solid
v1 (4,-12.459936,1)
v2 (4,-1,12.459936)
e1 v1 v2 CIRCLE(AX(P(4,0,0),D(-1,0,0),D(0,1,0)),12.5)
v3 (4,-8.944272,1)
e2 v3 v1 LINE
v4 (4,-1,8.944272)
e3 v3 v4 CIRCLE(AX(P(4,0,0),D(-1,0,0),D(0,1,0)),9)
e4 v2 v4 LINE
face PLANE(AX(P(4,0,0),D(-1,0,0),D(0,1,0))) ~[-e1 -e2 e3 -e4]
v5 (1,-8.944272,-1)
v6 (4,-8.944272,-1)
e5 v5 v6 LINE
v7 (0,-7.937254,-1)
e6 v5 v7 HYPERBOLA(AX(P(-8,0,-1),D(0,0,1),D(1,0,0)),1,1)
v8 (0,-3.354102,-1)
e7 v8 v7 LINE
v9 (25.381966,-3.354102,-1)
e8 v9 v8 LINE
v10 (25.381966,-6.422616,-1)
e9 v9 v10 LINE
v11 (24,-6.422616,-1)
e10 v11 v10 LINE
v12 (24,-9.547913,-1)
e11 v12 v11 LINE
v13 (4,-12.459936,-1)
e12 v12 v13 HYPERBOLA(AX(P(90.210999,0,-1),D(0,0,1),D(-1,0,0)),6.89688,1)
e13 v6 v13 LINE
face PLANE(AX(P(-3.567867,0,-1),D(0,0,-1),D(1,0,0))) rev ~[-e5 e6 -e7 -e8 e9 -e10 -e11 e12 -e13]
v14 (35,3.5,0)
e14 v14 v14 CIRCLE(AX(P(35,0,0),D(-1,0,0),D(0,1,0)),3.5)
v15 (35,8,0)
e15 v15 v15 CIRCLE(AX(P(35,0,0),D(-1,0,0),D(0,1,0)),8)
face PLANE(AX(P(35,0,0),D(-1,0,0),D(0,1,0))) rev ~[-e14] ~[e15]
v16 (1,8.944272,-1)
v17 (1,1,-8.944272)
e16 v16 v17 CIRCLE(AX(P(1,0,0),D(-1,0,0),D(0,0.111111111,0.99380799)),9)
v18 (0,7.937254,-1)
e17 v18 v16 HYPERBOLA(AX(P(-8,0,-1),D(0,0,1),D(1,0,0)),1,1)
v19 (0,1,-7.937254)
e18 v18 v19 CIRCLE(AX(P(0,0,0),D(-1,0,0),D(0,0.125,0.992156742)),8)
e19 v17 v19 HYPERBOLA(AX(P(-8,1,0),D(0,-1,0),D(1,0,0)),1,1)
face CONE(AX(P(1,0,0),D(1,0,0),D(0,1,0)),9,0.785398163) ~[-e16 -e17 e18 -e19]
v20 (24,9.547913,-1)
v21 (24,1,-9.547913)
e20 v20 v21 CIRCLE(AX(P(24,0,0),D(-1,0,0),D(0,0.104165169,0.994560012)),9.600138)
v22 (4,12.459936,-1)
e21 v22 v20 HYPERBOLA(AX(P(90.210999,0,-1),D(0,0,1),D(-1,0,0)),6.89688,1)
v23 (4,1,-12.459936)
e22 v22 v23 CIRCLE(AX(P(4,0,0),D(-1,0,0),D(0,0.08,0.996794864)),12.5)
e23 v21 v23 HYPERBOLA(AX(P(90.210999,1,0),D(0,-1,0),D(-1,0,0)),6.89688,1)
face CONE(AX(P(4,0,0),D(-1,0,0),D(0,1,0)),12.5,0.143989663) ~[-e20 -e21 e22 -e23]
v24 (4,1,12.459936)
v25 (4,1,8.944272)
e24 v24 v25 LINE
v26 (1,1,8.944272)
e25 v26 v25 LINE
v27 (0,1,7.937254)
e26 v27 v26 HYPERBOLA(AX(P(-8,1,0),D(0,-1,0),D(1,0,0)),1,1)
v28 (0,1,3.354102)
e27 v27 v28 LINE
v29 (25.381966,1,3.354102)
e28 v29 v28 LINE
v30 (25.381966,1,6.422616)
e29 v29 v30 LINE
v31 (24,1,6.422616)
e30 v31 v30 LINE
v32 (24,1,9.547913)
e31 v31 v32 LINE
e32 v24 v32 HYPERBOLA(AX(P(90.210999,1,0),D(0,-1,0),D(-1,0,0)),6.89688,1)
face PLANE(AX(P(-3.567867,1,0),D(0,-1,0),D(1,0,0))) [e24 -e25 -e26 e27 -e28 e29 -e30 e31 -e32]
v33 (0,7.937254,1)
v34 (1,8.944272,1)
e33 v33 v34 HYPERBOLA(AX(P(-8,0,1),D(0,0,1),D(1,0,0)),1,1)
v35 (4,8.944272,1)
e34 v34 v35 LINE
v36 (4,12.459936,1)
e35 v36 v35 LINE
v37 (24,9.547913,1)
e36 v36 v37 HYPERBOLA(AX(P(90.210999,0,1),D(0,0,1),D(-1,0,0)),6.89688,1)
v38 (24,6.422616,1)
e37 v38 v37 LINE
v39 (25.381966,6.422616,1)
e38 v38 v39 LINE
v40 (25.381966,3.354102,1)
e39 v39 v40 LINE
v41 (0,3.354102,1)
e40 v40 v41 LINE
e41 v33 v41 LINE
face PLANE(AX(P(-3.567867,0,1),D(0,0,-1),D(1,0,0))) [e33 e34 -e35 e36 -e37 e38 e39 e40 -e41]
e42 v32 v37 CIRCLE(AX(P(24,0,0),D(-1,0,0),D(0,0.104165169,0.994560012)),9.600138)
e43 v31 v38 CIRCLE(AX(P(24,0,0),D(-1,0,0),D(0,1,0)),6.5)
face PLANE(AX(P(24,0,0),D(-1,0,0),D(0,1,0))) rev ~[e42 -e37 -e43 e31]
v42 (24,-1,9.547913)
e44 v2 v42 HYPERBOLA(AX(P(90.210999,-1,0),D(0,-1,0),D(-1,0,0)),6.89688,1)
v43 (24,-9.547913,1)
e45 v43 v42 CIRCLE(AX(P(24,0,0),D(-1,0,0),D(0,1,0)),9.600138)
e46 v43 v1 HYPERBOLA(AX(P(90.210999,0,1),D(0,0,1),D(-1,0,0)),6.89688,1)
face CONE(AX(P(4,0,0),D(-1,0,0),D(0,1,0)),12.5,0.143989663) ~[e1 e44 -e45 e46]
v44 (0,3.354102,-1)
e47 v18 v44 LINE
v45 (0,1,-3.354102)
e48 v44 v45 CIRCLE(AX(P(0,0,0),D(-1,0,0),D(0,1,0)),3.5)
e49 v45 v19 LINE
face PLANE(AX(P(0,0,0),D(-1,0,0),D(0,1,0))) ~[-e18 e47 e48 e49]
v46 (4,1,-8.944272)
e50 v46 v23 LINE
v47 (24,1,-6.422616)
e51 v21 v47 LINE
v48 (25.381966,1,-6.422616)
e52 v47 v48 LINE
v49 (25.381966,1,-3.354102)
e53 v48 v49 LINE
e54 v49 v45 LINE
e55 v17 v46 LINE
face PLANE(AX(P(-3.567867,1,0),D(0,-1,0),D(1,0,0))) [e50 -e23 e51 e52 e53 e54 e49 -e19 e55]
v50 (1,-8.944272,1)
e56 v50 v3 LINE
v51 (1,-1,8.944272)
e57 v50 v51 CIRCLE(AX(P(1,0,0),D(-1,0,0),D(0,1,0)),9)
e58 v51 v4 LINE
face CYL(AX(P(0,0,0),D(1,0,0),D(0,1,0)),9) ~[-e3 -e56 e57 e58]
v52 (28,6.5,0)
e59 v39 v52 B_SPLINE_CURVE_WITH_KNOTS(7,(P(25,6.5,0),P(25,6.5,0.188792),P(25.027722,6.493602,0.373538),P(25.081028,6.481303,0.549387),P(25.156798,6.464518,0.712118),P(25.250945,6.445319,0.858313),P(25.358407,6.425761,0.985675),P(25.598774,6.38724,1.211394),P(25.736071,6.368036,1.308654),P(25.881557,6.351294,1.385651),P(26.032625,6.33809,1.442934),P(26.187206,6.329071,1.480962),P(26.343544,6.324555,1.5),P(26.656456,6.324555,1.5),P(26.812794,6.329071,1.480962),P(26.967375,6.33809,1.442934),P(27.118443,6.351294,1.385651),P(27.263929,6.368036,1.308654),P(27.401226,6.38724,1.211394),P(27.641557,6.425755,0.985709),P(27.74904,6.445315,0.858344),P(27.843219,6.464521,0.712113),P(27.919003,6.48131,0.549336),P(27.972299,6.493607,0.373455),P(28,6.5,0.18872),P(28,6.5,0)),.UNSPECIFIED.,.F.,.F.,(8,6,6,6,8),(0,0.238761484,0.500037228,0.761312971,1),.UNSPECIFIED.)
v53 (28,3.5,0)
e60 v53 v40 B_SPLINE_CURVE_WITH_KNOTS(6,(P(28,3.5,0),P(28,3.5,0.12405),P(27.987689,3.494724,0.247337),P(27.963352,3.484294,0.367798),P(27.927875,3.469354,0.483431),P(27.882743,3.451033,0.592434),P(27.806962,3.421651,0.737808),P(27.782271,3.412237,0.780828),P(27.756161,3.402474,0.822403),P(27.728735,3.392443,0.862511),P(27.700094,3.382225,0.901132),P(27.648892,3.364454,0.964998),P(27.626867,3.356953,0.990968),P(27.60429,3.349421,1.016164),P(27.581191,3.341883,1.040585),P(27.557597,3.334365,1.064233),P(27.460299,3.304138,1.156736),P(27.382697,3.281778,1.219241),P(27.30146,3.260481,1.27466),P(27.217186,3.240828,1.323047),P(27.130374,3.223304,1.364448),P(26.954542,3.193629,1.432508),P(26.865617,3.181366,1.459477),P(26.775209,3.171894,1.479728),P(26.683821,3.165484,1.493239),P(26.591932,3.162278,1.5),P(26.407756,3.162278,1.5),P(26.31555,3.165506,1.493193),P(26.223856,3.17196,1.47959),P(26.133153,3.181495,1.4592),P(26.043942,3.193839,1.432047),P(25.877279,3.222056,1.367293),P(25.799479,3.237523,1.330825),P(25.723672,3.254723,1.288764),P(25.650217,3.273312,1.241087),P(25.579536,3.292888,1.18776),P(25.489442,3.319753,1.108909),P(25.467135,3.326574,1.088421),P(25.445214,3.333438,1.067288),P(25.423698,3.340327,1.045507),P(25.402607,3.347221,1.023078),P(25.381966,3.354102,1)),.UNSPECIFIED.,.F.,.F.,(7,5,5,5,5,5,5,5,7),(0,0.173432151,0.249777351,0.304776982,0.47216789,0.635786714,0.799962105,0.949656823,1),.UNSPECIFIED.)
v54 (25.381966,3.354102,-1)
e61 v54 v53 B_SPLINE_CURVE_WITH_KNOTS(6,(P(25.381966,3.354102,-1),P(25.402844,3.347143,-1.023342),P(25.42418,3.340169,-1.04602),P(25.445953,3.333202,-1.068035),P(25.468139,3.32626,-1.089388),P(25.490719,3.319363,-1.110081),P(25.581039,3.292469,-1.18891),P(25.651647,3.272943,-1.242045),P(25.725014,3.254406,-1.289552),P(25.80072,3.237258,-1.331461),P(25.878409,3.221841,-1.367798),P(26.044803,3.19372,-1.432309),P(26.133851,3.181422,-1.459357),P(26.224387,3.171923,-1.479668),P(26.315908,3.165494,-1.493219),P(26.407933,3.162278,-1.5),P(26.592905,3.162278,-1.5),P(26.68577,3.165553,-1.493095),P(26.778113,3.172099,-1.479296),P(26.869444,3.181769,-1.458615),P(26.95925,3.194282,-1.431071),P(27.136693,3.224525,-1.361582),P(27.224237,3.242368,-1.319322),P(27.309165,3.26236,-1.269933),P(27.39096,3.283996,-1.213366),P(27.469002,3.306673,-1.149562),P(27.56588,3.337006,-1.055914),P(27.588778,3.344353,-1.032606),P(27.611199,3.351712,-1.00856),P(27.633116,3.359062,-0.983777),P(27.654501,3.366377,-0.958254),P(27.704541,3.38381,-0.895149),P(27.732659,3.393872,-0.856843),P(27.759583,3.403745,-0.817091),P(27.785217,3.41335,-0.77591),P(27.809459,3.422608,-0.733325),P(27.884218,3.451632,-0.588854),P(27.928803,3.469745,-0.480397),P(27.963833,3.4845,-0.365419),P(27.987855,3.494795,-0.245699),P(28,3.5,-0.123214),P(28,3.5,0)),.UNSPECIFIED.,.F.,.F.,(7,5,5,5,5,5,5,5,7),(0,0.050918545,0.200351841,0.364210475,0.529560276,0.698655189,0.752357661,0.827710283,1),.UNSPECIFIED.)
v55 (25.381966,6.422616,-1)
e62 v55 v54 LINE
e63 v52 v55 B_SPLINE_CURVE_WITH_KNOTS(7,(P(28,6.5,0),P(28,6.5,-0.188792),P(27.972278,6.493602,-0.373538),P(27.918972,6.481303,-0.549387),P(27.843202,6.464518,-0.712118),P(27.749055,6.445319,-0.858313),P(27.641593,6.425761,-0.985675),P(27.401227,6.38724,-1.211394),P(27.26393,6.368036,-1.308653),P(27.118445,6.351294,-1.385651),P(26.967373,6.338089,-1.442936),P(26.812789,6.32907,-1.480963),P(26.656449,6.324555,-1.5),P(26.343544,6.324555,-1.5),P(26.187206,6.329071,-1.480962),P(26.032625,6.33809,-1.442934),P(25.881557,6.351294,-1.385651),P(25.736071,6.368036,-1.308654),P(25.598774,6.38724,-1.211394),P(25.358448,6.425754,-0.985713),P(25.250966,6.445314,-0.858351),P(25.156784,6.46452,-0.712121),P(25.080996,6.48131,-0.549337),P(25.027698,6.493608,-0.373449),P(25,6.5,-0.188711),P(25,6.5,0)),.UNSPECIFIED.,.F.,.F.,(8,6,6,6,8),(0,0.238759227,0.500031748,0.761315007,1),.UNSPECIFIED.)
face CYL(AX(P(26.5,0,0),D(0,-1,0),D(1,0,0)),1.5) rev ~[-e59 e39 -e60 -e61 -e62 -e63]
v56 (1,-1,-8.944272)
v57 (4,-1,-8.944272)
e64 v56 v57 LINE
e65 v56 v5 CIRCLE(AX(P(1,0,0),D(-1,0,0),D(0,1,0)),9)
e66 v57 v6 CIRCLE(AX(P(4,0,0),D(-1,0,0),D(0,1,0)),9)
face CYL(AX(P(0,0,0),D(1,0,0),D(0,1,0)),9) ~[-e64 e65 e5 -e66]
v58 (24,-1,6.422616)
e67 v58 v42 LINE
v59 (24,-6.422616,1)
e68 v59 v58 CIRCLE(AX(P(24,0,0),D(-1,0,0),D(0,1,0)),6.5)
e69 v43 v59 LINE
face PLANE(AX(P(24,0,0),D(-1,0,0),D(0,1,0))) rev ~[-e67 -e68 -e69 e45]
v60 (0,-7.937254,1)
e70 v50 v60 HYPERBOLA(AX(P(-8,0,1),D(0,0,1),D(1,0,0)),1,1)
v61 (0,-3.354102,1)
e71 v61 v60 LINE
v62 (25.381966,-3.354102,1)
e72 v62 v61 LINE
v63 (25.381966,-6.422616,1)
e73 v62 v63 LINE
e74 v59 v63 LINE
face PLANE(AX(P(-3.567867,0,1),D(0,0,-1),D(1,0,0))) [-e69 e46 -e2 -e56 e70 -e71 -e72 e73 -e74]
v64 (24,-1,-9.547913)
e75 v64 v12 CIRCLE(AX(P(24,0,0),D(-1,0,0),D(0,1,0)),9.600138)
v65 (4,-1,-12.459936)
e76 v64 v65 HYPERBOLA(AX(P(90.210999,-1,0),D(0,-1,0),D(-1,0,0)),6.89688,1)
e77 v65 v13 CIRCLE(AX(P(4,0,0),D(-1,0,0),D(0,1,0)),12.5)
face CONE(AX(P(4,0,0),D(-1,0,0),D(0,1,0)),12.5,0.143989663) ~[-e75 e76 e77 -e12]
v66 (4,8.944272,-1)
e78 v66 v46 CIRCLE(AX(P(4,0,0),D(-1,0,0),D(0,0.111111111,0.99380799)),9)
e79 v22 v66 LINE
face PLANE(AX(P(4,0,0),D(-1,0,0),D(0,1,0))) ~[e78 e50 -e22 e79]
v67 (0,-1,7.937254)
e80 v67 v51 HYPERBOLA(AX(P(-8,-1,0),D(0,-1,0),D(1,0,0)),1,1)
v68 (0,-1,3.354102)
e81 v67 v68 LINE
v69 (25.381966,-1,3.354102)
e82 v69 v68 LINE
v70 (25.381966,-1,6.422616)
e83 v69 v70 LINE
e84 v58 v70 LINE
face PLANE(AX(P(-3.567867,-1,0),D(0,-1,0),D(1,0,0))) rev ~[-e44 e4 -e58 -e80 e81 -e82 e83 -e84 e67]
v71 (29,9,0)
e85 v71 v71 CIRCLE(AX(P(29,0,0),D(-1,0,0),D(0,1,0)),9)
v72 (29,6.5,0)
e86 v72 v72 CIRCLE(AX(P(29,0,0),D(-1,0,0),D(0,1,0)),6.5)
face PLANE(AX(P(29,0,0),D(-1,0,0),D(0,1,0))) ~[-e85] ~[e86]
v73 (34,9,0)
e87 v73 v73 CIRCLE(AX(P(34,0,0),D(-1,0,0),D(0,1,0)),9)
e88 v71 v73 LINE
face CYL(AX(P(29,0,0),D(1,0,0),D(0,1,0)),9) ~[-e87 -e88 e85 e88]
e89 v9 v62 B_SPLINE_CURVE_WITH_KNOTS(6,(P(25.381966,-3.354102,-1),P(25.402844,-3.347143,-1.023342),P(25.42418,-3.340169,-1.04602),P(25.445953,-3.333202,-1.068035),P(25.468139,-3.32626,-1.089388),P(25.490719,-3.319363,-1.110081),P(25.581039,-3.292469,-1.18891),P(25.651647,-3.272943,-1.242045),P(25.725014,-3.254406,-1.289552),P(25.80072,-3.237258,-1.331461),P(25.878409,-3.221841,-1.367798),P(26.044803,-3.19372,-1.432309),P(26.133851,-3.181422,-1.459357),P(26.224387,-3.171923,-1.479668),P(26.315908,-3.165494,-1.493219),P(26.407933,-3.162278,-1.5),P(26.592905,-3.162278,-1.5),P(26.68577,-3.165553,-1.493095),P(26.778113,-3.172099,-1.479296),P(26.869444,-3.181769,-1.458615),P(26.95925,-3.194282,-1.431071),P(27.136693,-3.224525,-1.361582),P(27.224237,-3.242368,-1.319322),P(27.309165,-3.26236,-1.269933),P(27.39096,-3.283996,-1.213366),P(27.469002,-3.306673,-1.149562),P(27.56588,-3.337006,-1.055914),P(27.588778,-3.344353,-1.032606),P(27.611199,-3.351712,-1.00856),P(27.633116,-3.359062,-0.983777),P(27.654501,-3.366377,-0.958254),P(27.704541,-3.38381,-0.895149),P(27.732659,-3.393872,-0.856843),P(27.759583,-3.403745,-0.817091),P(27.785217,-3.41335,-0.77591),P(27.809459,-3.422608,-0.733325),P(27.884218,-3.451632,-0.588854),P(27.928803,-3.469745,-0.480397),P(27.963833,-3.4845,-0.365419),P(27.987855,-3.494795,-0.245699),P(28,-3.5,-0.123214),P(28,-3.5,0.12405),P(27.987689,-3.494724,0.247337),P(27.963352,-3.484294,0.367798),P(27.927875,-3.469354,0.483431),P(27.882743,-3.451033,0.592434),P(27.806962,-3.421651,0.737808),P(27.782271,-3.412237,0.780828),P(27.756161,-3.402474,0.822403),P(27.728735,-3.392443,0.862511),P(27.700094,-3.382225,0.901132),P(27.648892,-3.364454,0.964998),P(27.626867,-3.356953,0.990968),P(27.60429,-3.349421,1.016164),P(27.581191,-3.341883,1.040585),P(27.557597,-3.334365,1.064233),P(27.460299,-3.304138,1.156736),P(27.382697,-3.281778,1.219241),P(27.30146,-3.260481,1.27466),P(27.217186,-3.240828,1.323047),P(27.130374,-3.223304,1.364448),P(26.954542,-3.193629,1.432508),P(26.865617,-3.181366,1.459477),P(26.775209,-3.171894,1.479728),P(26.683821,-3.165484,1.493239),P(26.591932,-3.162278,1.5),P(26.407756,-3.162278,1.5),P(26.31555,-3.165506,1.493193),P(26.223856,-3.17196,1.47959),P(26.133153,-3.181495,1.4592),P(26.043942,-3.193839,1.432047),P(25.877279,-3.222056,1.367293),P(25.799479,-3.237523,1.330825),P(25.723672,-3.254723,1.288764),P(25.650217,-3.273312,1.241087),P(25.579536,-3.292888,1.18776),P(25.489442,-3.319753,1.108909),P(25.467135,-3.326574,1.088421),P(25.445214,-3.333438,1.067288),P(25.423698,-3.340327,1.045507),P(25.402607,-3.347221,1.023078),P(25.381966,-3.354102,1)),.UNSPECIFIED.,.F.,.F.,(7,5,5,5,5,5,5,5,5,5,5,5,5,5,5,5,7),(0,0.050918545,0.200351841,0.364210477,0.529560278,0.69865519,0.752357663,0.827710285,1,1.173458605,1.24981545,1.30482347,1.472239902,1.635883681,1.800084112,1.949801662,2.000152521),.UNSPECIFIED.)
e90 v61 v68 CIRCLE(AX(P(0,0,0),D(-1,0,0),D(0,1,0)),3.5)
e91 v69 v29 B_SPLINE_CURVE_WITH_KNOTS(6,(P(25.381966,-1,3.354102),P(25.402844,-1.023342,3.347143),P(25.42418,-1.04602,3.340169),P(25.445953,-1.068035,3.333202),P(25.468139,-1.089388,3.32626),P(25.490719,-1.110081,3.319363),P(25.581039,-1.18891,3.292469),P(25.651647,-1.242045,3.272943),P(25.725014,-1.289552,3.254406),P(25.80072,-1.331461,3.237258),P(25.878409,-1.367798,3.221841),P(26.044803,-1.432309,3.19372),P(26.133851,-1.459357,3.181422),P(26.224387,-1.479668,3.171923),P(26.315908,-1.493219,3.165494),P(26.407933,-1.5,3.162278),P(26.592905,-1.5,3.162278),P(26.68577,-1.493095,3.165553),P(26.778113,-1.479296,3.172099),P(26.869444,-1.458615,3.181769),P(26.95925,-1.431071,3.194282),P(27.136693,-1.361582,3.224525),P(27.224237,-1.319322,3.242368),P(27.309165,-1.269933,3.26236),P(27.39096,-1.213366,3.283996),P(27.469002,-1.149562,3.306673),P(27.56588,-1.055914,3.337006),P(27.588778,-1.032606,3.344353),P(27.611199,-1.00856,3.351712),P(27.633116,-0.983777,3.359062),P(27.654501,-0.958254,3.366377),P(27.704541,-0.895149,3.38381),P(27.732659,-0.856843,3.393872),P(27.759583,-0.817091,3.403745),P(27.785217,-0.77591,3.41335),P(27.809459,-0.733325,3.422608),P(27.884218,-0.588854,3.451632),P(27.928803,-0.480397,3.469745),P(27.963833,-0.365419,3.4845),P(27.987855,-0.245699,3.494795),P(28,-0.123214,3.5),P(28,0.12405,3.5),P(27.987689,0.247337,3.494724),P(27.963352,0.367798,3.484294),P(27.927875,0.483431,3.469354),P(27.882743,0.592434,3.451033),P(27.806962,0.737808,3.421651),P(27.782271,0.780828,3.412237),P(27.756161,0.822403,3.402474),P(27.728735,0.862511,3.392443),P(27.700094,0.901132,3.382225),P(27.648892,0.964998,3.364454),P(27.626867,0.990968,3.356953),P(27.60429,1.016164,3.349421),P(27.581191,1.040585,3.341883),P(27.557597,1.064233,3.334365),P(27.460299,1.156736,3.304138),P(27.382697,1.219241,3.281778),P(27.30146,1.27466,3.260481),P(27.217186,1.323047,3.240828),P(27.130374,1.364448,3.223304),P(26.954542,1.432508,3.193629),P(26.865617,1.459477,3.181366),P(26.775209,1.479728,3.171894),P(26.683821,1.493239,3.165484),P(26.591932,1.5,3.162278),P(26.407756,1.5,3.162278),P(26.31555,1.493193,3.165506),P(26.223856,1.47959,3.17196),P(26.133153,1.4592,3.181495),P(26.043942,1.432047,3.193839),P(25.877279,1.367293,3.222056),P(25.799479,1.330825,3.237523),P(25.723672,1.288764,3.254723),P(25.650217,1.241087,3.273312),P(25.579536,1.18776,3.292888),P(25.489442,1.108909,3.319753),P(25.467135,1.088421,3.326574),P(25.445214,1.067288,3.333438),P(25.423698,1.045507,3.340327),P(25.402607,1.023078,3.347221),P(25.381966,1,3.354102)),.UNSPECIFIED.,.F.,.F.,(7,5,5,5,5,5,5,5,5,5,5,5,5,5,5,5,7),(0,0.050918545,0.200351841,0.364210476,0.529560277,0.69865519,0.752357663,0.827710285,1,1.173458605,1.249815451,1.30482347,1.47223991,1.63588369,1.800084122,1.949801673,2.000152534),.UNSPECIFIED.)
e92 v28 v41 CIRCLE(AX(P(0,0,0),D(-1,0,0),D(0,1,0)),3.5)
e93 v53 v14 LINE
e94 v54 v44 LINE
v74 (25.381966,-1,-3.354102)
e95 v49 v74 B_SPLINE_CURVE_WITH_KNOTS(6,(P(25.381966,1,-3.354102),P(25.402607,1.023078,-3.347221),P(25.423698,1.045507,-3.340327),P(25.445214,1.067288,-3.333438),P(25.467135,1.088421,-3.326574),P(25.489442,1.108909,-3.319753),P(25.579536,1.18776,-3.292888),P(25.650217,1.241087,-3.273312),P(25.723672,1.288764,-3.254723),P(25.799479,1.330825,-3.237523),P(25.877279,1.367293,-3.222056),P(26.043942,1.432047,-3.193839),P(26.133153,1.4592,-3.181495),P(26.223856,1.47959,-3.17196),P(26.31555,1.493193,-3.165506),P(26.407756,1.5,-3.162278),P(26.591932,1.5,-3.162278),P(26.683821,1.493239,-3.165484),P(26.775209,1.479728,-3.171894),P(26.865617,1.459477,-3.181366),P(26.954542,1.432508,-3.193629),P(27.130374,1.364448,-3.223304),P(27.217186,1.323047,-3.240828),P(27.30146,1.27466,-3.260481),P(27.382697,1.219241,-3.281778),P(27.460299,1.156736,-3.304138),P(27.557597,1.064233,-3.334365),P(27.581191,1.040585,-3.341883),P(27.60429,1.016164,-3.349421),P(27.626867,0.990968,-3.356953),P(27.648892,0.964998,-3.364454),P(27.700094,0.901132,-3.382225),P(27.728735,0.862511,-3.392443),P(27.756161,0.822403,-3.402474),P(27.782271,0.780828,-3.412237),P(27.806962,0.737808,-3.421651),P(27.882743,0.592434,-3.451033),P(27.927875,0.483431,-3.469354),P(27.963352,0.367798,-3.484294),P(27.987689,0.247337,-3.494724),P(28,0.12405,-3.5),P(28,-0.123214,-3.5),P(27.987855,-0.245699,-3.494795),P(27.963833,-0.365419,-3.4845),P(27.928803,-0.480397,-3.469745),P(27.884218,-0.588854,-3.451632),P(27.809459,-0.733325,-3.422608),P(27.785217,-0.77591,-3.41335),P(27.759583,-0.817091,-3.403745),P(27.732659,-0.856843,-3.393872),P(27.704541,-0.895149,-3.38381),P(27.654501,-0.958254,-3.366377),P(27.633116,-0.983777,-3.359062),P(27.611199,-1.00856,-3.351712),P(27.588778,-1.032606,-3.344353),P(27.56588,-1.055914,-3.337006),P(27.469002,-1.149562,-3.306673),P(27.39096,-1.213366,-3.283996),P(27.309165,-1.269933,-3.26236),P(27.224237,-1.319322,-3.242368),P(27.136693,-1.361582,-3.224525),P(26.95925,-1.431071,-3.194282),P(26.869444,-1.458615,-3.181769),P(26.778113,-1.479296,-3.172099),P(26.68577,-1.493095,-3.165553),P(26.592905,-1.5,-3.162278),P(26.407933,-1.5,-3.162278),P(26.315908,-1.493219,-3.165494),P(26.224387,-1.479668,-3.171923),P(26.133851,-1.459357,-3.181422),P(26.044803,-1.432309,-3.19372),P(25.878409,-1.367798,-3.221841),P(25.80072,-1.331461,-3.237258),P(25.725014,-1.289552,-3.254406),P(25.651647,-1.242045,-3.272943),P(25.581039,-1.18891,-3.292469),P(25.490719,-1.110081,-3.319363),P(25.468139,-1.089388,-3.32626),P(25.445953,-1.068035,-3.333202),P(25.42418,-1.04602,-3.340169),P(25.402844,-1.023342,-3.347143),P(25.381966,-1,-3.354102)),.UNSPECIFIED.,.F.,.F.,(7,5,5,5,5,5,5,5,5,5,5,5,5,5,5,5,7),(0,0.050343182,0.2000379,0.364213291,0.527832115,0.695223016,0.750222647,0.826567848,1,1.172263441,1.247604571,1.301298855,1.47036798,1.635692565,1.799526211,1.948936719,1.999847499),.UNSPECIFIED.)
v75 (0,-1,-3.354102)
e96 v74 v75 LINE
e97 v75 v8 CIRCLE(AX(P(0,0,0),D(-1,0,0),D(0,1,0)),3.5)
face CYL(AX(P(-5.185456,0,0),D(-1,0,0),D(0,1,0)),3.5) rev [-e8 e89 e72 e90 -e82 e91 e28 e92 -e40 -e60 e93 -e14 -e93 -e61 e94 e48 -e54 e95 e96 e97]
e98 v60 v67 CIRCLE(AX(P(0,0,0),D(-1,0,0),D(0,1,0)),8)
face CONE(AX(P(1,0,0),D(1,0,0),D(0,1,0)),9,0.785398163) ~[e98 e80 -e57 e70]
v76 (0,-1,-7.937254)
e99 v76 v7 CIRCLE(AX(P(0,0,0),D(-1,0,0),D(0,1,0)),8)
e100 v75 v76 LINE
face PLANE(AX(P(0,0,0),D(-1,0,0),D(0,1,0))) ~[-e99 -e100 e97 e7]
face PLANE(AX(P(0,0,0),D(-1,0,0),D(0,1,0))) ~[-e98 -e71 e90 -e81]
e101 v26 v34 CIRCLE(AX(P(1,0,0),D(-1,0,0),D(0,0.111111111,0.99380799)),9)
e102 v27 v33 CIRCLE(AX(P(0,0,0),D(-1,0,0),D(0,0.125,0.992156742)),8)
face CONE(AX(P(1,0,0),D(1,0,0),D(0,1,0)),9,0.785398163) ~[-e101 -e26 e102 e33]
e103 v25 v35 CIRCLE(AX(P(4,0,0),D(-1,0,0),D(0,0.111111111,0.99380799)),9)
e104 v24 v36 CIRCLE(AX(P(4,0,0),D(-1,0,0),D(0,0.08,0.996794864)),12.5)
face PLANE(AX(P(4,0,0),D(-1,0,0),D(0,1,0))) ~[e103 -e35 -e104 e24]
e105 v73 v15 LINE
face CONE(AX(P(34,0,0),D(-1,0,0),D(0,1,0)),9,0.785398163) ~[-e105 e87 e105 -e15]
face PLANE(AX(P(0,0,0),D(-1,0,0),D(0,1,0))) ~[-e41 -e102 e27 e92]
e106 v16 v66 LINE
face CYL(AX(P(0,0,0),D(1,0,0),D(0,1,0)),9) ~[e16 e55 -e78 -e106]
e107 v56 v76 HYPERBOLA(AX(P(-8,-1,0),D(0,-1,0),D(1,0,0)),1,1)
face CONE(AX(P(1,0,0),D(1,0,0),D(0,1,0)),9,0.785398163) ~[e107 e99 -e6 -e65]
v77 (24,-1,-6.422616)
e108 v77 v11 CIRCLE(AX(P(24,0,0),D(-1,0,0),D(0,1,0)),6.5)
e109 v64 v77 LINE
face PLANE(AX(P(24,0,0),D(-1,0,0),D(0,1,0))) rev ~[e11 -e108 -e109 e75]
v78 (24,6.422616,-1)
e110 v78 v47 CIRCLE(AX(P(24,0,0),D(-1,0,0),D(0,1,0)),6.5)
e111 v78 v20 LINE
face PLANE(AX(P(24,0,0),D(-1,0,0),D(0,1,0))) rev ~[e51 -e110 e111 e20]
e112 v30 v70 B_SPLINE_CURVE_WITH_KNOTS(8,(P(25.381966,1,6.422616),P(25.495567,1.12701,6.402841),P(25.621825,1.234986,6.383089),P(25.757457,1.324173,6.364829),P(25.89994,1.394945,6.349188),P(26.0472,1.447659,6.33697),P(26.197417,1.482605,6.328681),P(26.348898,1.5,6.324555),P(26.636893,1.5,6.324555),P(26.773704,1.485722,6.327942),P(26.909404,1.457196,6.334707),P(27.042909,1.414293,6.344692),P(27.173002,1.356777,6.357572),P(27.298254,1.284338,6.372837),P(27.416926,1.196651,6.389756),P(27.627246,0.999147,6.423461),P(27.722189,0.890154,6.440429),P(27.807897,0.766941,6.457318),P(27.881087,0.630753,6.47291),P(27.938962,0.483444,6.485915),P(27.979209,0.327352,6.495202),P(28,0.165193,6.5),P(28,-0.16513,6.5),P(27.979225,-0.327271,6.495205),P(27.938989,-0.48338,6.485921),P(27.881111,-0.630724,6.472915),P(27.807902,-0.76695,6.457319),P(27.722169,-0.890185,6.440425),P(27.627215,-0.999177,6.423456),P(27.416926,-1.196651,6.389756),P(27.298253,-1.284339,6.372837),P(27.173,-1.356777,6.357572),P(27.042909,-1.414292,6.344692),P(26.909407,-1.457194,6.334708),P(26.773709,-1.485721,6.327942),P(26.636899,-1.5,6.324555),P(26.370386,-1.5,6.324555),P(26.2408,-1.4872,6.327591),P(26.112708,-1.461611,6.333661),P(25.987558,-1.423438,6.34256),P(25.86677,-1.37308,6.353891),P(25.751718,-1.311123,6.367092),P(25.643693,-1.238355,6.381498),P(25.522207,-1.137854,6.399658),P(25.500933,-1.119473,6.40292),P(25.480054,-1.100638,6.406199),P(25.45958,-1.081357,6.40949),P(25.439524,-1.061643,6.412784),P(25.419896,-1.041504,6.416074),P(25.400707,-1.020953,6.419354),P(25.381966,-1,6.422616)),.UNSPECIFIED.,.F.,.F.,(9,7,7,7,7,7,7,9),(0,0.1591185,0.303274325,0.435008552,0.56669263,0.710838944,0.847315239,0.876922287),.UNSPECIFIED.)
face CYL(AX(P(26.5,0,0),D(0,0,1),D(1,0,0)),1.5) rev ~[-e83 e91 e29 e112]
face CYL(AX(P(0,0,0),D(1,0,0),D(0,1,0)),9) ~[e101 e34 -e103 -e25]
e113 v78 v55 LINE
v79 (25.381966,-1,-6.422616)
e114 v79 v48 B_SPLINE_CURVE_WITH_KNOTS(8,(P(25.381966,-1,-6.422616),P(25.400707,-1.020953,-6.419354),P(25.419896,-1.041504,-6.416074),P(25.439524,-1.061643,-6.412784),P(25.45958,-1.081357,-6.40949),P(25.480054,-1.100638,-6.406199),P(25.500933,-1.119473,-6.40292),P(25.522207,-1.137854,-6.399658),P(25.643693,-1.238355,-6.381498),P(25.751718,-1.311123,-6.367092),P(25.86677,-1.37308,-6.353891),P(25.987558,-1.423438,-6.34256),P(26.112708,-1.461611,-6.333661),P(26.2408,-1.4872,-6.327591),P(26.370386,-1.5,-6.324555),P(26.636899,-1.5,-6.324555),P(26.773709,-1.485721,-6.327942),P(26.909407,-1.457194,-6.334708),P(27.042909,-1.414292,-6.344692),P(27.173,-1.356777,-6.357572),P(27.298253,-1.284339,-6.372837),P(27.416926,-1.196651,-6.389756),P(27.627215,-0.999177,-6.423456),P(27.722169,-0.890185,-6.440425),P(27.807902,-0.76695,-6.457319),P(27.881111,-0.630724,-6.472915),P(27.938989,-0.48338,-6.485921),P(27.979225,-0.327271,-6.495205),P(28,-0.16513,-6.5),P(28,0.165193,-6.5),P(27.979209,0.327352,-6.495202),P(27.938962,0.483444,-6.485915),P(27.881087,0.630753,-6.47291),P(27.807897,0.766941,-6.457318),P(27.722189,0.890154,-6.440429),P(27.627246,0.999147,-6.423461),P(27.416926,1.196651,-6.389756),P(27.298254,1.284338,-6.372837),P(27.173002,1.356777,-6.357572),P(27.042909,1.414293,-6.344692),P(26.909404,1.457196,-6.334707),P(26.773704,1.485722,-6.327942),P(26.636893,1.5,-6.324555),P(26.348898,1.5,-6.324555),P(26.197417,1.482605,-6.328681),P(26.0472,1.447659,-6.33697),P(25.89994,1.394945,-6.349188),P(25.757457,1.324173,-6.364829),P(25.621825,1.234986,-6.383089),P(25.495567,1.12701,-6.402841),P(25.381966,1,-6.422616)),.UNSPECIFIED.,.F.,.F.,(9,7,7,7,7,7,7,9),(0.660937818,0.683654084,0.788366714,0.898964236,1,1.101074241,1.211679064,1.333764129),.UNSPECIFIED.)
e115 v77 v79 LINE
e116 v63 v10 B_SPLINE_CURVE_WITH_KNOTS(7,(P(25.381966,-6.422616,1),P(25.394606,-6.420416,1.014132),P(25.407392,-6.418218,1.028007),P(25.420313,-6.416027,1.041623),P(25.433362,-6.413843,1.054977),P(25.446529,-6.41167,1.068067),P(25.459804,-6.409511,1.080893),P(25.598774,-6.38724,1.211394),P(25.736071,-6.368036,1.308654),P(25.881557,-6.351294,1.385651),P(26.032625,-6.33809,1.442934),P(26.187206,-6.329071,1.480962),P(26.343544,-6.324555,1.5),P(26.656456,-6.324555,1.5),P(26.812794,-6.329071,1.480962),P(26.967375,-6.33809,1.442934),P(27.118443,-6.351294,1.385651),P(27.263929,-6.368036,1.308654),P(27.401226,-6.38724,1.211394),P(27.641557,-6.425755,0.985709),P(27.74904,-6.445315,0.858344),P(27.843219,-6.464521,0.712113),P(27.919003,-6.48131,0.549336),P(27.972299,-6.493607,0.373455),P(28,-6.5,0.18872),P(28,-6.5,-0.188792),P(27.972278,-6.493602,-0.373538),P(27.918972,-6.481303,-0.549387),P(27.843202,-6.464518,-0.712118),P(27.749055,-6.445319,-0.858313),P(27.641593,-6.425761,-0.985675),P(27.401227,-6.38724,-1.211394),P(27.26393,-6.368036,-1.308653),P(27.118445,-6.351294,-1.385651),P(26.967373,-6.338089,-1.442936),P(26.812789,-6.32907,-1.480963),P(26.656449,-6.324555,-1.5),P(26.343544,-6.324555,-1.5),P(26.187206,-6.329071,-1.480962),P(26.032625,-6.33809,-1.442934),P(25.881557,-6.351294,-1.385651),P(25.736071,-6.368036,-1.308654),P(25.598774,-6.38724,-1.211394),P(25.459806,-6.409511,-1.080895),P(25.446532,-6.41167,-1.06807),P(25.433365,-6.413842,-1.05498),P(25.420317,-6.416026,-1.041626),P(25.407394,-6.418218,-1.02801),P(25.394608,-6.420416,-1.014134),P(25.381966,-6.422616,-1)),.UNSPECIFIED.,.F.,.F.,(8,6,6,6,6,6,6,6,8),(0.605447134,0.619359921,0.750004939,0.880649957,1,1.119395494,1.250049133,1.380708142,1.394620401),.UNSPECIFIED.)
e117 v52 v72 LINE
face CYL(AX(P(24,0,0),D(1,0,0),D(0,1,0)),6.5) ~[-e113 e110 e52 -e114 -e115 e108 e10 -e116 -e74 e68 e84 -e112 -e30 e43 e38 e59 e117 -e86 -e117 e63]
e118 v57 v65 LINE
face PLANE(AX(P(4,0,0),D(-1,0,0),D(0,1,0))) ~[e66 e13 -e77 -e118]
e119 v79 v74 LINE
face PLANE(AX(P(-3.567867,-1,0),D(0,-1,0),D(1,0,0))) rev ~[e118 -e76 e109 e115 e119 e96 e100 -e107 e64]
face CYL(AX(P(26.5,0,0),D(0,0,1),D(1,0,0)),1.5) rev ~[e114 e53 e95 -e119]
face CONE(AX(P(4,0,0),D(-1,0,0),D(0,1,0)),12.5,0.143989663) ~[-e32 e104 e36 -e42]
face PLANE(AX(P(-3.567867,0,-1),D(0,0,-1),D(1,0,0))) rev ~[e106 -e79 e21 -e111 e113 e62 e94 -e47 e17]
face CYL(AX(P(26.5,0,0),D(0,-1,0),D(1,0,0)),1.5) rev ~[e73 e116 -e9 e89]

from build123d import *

# Parameters (mm, degrees)
CHAMFER_1_SIZE           = 1
SKETCH_2_R               = 1.5
CUT_EXTRUDE_1_DEPTH      = 40.210967853
SKETCH_3_W               = 30.067866829
SKETCH_3_H               = 2
CUT_EXTRUDE_1_2_DEPTH    = 40.210967853
PATTERN_CIRCULAR_1_COUNT = 4
CUT_EXTRUDE_2_DEPTH      = 40.185456486
CUT_EXTRUDE_2_DEPTH_BACK = 40.185456486
SKETCH_4_R               = 3.5


with BuildPart() as part:
    # 草图1 → 旋转1 (revolve)
    with BuildSketch(Plane.XY):
        Polygon((0, 0), (0, 9), (4, 9), (4, 12.5), (24, 9.60013801), (24, 6.5), (29, 6.5), (29, 9), (35, 9), (35, 0), align=None)
    revolve(axis=Axis((35, 0, 0), (-1, 0, 0)))

    # 倒角1
    chamfer_1_edges = [part.edges().sort_by_distance(p)[0] for p in [
        (0, -9, 0),
        (35, -9, 0),
    ]]
    chamfer(chamfer_1_edges, length=CHAMFER_1_SIZE)

    # 草图2 → Cut-Extrude 1 (cut, symmetric)
    with BuildSketch(Plane.XY):
        with Locations((26.5, 0)):
            Circle(SKETCH_2_R)
    cut_extrude_1 = extrude(amount=CUT_EXTRUDE_1_DEPTH, both=True, mode=Mode.SUBTRACT)

    # 草图3 → Cut-Extrude 1 2 (cut, symmetric)
    with BuildSketch(Plane.XY):
        with Locations((11.466066586, 0)):
            Rectangle(SKETCH_3_W, SKETCH_3_H)
    cut_extrude_1_2 = extrude(amount=CUT_EXTRUDE_1_2_DEPTH, both=True, mode=Mode.SUBTRACT)

    # 阵列(圆周)1: Cut-Extrude 1, Cut-Extrude 1 2 ×4 about axis
    pattern_circular_1_axis = Axis((35, 0, 0), (1, 0, 0))
    add([cut_extrude_1.rotate(pattern_circular_1_axis, i * 360 / PATTERN_CIRCULAR_1_COUNT) for i in range(1, PATTERN_CIRCULAR_1_COUNT)], mode=Mode.SUBTRACT)
    add([cut_extrude_1_2.rotate(pattern_circular_1_axis, i * 360 / PATTERN_CIRCULAR_1_COUNT) for i in range(1, PATTERN_CIRCULAR_1_COUNT)], mode=Mode.SUBTRACT)

    # 草图4 → 切除-拉伸2 (cut, two sides: drawn at the far end of the back side and taken through both)
    with BuildSketch(Plane(origin=(35, 0, 0), x_dir=(0, 0, -1), z_dir=(1, 0, 0)).offset(-CUT_EXTRUDE_2_DEPTH_BACK)):
        with Locations(Location((0, 0, 0), (0, 0, 90))):
            Circle(SKETCH_4_R)
    extrude(amount=CUT_EXTRUDE_2_DEPTH + CUT_EXTRUDE_2_DEPTH_BACK, mode=Mode.SUBTRACT)


solid = part.part
